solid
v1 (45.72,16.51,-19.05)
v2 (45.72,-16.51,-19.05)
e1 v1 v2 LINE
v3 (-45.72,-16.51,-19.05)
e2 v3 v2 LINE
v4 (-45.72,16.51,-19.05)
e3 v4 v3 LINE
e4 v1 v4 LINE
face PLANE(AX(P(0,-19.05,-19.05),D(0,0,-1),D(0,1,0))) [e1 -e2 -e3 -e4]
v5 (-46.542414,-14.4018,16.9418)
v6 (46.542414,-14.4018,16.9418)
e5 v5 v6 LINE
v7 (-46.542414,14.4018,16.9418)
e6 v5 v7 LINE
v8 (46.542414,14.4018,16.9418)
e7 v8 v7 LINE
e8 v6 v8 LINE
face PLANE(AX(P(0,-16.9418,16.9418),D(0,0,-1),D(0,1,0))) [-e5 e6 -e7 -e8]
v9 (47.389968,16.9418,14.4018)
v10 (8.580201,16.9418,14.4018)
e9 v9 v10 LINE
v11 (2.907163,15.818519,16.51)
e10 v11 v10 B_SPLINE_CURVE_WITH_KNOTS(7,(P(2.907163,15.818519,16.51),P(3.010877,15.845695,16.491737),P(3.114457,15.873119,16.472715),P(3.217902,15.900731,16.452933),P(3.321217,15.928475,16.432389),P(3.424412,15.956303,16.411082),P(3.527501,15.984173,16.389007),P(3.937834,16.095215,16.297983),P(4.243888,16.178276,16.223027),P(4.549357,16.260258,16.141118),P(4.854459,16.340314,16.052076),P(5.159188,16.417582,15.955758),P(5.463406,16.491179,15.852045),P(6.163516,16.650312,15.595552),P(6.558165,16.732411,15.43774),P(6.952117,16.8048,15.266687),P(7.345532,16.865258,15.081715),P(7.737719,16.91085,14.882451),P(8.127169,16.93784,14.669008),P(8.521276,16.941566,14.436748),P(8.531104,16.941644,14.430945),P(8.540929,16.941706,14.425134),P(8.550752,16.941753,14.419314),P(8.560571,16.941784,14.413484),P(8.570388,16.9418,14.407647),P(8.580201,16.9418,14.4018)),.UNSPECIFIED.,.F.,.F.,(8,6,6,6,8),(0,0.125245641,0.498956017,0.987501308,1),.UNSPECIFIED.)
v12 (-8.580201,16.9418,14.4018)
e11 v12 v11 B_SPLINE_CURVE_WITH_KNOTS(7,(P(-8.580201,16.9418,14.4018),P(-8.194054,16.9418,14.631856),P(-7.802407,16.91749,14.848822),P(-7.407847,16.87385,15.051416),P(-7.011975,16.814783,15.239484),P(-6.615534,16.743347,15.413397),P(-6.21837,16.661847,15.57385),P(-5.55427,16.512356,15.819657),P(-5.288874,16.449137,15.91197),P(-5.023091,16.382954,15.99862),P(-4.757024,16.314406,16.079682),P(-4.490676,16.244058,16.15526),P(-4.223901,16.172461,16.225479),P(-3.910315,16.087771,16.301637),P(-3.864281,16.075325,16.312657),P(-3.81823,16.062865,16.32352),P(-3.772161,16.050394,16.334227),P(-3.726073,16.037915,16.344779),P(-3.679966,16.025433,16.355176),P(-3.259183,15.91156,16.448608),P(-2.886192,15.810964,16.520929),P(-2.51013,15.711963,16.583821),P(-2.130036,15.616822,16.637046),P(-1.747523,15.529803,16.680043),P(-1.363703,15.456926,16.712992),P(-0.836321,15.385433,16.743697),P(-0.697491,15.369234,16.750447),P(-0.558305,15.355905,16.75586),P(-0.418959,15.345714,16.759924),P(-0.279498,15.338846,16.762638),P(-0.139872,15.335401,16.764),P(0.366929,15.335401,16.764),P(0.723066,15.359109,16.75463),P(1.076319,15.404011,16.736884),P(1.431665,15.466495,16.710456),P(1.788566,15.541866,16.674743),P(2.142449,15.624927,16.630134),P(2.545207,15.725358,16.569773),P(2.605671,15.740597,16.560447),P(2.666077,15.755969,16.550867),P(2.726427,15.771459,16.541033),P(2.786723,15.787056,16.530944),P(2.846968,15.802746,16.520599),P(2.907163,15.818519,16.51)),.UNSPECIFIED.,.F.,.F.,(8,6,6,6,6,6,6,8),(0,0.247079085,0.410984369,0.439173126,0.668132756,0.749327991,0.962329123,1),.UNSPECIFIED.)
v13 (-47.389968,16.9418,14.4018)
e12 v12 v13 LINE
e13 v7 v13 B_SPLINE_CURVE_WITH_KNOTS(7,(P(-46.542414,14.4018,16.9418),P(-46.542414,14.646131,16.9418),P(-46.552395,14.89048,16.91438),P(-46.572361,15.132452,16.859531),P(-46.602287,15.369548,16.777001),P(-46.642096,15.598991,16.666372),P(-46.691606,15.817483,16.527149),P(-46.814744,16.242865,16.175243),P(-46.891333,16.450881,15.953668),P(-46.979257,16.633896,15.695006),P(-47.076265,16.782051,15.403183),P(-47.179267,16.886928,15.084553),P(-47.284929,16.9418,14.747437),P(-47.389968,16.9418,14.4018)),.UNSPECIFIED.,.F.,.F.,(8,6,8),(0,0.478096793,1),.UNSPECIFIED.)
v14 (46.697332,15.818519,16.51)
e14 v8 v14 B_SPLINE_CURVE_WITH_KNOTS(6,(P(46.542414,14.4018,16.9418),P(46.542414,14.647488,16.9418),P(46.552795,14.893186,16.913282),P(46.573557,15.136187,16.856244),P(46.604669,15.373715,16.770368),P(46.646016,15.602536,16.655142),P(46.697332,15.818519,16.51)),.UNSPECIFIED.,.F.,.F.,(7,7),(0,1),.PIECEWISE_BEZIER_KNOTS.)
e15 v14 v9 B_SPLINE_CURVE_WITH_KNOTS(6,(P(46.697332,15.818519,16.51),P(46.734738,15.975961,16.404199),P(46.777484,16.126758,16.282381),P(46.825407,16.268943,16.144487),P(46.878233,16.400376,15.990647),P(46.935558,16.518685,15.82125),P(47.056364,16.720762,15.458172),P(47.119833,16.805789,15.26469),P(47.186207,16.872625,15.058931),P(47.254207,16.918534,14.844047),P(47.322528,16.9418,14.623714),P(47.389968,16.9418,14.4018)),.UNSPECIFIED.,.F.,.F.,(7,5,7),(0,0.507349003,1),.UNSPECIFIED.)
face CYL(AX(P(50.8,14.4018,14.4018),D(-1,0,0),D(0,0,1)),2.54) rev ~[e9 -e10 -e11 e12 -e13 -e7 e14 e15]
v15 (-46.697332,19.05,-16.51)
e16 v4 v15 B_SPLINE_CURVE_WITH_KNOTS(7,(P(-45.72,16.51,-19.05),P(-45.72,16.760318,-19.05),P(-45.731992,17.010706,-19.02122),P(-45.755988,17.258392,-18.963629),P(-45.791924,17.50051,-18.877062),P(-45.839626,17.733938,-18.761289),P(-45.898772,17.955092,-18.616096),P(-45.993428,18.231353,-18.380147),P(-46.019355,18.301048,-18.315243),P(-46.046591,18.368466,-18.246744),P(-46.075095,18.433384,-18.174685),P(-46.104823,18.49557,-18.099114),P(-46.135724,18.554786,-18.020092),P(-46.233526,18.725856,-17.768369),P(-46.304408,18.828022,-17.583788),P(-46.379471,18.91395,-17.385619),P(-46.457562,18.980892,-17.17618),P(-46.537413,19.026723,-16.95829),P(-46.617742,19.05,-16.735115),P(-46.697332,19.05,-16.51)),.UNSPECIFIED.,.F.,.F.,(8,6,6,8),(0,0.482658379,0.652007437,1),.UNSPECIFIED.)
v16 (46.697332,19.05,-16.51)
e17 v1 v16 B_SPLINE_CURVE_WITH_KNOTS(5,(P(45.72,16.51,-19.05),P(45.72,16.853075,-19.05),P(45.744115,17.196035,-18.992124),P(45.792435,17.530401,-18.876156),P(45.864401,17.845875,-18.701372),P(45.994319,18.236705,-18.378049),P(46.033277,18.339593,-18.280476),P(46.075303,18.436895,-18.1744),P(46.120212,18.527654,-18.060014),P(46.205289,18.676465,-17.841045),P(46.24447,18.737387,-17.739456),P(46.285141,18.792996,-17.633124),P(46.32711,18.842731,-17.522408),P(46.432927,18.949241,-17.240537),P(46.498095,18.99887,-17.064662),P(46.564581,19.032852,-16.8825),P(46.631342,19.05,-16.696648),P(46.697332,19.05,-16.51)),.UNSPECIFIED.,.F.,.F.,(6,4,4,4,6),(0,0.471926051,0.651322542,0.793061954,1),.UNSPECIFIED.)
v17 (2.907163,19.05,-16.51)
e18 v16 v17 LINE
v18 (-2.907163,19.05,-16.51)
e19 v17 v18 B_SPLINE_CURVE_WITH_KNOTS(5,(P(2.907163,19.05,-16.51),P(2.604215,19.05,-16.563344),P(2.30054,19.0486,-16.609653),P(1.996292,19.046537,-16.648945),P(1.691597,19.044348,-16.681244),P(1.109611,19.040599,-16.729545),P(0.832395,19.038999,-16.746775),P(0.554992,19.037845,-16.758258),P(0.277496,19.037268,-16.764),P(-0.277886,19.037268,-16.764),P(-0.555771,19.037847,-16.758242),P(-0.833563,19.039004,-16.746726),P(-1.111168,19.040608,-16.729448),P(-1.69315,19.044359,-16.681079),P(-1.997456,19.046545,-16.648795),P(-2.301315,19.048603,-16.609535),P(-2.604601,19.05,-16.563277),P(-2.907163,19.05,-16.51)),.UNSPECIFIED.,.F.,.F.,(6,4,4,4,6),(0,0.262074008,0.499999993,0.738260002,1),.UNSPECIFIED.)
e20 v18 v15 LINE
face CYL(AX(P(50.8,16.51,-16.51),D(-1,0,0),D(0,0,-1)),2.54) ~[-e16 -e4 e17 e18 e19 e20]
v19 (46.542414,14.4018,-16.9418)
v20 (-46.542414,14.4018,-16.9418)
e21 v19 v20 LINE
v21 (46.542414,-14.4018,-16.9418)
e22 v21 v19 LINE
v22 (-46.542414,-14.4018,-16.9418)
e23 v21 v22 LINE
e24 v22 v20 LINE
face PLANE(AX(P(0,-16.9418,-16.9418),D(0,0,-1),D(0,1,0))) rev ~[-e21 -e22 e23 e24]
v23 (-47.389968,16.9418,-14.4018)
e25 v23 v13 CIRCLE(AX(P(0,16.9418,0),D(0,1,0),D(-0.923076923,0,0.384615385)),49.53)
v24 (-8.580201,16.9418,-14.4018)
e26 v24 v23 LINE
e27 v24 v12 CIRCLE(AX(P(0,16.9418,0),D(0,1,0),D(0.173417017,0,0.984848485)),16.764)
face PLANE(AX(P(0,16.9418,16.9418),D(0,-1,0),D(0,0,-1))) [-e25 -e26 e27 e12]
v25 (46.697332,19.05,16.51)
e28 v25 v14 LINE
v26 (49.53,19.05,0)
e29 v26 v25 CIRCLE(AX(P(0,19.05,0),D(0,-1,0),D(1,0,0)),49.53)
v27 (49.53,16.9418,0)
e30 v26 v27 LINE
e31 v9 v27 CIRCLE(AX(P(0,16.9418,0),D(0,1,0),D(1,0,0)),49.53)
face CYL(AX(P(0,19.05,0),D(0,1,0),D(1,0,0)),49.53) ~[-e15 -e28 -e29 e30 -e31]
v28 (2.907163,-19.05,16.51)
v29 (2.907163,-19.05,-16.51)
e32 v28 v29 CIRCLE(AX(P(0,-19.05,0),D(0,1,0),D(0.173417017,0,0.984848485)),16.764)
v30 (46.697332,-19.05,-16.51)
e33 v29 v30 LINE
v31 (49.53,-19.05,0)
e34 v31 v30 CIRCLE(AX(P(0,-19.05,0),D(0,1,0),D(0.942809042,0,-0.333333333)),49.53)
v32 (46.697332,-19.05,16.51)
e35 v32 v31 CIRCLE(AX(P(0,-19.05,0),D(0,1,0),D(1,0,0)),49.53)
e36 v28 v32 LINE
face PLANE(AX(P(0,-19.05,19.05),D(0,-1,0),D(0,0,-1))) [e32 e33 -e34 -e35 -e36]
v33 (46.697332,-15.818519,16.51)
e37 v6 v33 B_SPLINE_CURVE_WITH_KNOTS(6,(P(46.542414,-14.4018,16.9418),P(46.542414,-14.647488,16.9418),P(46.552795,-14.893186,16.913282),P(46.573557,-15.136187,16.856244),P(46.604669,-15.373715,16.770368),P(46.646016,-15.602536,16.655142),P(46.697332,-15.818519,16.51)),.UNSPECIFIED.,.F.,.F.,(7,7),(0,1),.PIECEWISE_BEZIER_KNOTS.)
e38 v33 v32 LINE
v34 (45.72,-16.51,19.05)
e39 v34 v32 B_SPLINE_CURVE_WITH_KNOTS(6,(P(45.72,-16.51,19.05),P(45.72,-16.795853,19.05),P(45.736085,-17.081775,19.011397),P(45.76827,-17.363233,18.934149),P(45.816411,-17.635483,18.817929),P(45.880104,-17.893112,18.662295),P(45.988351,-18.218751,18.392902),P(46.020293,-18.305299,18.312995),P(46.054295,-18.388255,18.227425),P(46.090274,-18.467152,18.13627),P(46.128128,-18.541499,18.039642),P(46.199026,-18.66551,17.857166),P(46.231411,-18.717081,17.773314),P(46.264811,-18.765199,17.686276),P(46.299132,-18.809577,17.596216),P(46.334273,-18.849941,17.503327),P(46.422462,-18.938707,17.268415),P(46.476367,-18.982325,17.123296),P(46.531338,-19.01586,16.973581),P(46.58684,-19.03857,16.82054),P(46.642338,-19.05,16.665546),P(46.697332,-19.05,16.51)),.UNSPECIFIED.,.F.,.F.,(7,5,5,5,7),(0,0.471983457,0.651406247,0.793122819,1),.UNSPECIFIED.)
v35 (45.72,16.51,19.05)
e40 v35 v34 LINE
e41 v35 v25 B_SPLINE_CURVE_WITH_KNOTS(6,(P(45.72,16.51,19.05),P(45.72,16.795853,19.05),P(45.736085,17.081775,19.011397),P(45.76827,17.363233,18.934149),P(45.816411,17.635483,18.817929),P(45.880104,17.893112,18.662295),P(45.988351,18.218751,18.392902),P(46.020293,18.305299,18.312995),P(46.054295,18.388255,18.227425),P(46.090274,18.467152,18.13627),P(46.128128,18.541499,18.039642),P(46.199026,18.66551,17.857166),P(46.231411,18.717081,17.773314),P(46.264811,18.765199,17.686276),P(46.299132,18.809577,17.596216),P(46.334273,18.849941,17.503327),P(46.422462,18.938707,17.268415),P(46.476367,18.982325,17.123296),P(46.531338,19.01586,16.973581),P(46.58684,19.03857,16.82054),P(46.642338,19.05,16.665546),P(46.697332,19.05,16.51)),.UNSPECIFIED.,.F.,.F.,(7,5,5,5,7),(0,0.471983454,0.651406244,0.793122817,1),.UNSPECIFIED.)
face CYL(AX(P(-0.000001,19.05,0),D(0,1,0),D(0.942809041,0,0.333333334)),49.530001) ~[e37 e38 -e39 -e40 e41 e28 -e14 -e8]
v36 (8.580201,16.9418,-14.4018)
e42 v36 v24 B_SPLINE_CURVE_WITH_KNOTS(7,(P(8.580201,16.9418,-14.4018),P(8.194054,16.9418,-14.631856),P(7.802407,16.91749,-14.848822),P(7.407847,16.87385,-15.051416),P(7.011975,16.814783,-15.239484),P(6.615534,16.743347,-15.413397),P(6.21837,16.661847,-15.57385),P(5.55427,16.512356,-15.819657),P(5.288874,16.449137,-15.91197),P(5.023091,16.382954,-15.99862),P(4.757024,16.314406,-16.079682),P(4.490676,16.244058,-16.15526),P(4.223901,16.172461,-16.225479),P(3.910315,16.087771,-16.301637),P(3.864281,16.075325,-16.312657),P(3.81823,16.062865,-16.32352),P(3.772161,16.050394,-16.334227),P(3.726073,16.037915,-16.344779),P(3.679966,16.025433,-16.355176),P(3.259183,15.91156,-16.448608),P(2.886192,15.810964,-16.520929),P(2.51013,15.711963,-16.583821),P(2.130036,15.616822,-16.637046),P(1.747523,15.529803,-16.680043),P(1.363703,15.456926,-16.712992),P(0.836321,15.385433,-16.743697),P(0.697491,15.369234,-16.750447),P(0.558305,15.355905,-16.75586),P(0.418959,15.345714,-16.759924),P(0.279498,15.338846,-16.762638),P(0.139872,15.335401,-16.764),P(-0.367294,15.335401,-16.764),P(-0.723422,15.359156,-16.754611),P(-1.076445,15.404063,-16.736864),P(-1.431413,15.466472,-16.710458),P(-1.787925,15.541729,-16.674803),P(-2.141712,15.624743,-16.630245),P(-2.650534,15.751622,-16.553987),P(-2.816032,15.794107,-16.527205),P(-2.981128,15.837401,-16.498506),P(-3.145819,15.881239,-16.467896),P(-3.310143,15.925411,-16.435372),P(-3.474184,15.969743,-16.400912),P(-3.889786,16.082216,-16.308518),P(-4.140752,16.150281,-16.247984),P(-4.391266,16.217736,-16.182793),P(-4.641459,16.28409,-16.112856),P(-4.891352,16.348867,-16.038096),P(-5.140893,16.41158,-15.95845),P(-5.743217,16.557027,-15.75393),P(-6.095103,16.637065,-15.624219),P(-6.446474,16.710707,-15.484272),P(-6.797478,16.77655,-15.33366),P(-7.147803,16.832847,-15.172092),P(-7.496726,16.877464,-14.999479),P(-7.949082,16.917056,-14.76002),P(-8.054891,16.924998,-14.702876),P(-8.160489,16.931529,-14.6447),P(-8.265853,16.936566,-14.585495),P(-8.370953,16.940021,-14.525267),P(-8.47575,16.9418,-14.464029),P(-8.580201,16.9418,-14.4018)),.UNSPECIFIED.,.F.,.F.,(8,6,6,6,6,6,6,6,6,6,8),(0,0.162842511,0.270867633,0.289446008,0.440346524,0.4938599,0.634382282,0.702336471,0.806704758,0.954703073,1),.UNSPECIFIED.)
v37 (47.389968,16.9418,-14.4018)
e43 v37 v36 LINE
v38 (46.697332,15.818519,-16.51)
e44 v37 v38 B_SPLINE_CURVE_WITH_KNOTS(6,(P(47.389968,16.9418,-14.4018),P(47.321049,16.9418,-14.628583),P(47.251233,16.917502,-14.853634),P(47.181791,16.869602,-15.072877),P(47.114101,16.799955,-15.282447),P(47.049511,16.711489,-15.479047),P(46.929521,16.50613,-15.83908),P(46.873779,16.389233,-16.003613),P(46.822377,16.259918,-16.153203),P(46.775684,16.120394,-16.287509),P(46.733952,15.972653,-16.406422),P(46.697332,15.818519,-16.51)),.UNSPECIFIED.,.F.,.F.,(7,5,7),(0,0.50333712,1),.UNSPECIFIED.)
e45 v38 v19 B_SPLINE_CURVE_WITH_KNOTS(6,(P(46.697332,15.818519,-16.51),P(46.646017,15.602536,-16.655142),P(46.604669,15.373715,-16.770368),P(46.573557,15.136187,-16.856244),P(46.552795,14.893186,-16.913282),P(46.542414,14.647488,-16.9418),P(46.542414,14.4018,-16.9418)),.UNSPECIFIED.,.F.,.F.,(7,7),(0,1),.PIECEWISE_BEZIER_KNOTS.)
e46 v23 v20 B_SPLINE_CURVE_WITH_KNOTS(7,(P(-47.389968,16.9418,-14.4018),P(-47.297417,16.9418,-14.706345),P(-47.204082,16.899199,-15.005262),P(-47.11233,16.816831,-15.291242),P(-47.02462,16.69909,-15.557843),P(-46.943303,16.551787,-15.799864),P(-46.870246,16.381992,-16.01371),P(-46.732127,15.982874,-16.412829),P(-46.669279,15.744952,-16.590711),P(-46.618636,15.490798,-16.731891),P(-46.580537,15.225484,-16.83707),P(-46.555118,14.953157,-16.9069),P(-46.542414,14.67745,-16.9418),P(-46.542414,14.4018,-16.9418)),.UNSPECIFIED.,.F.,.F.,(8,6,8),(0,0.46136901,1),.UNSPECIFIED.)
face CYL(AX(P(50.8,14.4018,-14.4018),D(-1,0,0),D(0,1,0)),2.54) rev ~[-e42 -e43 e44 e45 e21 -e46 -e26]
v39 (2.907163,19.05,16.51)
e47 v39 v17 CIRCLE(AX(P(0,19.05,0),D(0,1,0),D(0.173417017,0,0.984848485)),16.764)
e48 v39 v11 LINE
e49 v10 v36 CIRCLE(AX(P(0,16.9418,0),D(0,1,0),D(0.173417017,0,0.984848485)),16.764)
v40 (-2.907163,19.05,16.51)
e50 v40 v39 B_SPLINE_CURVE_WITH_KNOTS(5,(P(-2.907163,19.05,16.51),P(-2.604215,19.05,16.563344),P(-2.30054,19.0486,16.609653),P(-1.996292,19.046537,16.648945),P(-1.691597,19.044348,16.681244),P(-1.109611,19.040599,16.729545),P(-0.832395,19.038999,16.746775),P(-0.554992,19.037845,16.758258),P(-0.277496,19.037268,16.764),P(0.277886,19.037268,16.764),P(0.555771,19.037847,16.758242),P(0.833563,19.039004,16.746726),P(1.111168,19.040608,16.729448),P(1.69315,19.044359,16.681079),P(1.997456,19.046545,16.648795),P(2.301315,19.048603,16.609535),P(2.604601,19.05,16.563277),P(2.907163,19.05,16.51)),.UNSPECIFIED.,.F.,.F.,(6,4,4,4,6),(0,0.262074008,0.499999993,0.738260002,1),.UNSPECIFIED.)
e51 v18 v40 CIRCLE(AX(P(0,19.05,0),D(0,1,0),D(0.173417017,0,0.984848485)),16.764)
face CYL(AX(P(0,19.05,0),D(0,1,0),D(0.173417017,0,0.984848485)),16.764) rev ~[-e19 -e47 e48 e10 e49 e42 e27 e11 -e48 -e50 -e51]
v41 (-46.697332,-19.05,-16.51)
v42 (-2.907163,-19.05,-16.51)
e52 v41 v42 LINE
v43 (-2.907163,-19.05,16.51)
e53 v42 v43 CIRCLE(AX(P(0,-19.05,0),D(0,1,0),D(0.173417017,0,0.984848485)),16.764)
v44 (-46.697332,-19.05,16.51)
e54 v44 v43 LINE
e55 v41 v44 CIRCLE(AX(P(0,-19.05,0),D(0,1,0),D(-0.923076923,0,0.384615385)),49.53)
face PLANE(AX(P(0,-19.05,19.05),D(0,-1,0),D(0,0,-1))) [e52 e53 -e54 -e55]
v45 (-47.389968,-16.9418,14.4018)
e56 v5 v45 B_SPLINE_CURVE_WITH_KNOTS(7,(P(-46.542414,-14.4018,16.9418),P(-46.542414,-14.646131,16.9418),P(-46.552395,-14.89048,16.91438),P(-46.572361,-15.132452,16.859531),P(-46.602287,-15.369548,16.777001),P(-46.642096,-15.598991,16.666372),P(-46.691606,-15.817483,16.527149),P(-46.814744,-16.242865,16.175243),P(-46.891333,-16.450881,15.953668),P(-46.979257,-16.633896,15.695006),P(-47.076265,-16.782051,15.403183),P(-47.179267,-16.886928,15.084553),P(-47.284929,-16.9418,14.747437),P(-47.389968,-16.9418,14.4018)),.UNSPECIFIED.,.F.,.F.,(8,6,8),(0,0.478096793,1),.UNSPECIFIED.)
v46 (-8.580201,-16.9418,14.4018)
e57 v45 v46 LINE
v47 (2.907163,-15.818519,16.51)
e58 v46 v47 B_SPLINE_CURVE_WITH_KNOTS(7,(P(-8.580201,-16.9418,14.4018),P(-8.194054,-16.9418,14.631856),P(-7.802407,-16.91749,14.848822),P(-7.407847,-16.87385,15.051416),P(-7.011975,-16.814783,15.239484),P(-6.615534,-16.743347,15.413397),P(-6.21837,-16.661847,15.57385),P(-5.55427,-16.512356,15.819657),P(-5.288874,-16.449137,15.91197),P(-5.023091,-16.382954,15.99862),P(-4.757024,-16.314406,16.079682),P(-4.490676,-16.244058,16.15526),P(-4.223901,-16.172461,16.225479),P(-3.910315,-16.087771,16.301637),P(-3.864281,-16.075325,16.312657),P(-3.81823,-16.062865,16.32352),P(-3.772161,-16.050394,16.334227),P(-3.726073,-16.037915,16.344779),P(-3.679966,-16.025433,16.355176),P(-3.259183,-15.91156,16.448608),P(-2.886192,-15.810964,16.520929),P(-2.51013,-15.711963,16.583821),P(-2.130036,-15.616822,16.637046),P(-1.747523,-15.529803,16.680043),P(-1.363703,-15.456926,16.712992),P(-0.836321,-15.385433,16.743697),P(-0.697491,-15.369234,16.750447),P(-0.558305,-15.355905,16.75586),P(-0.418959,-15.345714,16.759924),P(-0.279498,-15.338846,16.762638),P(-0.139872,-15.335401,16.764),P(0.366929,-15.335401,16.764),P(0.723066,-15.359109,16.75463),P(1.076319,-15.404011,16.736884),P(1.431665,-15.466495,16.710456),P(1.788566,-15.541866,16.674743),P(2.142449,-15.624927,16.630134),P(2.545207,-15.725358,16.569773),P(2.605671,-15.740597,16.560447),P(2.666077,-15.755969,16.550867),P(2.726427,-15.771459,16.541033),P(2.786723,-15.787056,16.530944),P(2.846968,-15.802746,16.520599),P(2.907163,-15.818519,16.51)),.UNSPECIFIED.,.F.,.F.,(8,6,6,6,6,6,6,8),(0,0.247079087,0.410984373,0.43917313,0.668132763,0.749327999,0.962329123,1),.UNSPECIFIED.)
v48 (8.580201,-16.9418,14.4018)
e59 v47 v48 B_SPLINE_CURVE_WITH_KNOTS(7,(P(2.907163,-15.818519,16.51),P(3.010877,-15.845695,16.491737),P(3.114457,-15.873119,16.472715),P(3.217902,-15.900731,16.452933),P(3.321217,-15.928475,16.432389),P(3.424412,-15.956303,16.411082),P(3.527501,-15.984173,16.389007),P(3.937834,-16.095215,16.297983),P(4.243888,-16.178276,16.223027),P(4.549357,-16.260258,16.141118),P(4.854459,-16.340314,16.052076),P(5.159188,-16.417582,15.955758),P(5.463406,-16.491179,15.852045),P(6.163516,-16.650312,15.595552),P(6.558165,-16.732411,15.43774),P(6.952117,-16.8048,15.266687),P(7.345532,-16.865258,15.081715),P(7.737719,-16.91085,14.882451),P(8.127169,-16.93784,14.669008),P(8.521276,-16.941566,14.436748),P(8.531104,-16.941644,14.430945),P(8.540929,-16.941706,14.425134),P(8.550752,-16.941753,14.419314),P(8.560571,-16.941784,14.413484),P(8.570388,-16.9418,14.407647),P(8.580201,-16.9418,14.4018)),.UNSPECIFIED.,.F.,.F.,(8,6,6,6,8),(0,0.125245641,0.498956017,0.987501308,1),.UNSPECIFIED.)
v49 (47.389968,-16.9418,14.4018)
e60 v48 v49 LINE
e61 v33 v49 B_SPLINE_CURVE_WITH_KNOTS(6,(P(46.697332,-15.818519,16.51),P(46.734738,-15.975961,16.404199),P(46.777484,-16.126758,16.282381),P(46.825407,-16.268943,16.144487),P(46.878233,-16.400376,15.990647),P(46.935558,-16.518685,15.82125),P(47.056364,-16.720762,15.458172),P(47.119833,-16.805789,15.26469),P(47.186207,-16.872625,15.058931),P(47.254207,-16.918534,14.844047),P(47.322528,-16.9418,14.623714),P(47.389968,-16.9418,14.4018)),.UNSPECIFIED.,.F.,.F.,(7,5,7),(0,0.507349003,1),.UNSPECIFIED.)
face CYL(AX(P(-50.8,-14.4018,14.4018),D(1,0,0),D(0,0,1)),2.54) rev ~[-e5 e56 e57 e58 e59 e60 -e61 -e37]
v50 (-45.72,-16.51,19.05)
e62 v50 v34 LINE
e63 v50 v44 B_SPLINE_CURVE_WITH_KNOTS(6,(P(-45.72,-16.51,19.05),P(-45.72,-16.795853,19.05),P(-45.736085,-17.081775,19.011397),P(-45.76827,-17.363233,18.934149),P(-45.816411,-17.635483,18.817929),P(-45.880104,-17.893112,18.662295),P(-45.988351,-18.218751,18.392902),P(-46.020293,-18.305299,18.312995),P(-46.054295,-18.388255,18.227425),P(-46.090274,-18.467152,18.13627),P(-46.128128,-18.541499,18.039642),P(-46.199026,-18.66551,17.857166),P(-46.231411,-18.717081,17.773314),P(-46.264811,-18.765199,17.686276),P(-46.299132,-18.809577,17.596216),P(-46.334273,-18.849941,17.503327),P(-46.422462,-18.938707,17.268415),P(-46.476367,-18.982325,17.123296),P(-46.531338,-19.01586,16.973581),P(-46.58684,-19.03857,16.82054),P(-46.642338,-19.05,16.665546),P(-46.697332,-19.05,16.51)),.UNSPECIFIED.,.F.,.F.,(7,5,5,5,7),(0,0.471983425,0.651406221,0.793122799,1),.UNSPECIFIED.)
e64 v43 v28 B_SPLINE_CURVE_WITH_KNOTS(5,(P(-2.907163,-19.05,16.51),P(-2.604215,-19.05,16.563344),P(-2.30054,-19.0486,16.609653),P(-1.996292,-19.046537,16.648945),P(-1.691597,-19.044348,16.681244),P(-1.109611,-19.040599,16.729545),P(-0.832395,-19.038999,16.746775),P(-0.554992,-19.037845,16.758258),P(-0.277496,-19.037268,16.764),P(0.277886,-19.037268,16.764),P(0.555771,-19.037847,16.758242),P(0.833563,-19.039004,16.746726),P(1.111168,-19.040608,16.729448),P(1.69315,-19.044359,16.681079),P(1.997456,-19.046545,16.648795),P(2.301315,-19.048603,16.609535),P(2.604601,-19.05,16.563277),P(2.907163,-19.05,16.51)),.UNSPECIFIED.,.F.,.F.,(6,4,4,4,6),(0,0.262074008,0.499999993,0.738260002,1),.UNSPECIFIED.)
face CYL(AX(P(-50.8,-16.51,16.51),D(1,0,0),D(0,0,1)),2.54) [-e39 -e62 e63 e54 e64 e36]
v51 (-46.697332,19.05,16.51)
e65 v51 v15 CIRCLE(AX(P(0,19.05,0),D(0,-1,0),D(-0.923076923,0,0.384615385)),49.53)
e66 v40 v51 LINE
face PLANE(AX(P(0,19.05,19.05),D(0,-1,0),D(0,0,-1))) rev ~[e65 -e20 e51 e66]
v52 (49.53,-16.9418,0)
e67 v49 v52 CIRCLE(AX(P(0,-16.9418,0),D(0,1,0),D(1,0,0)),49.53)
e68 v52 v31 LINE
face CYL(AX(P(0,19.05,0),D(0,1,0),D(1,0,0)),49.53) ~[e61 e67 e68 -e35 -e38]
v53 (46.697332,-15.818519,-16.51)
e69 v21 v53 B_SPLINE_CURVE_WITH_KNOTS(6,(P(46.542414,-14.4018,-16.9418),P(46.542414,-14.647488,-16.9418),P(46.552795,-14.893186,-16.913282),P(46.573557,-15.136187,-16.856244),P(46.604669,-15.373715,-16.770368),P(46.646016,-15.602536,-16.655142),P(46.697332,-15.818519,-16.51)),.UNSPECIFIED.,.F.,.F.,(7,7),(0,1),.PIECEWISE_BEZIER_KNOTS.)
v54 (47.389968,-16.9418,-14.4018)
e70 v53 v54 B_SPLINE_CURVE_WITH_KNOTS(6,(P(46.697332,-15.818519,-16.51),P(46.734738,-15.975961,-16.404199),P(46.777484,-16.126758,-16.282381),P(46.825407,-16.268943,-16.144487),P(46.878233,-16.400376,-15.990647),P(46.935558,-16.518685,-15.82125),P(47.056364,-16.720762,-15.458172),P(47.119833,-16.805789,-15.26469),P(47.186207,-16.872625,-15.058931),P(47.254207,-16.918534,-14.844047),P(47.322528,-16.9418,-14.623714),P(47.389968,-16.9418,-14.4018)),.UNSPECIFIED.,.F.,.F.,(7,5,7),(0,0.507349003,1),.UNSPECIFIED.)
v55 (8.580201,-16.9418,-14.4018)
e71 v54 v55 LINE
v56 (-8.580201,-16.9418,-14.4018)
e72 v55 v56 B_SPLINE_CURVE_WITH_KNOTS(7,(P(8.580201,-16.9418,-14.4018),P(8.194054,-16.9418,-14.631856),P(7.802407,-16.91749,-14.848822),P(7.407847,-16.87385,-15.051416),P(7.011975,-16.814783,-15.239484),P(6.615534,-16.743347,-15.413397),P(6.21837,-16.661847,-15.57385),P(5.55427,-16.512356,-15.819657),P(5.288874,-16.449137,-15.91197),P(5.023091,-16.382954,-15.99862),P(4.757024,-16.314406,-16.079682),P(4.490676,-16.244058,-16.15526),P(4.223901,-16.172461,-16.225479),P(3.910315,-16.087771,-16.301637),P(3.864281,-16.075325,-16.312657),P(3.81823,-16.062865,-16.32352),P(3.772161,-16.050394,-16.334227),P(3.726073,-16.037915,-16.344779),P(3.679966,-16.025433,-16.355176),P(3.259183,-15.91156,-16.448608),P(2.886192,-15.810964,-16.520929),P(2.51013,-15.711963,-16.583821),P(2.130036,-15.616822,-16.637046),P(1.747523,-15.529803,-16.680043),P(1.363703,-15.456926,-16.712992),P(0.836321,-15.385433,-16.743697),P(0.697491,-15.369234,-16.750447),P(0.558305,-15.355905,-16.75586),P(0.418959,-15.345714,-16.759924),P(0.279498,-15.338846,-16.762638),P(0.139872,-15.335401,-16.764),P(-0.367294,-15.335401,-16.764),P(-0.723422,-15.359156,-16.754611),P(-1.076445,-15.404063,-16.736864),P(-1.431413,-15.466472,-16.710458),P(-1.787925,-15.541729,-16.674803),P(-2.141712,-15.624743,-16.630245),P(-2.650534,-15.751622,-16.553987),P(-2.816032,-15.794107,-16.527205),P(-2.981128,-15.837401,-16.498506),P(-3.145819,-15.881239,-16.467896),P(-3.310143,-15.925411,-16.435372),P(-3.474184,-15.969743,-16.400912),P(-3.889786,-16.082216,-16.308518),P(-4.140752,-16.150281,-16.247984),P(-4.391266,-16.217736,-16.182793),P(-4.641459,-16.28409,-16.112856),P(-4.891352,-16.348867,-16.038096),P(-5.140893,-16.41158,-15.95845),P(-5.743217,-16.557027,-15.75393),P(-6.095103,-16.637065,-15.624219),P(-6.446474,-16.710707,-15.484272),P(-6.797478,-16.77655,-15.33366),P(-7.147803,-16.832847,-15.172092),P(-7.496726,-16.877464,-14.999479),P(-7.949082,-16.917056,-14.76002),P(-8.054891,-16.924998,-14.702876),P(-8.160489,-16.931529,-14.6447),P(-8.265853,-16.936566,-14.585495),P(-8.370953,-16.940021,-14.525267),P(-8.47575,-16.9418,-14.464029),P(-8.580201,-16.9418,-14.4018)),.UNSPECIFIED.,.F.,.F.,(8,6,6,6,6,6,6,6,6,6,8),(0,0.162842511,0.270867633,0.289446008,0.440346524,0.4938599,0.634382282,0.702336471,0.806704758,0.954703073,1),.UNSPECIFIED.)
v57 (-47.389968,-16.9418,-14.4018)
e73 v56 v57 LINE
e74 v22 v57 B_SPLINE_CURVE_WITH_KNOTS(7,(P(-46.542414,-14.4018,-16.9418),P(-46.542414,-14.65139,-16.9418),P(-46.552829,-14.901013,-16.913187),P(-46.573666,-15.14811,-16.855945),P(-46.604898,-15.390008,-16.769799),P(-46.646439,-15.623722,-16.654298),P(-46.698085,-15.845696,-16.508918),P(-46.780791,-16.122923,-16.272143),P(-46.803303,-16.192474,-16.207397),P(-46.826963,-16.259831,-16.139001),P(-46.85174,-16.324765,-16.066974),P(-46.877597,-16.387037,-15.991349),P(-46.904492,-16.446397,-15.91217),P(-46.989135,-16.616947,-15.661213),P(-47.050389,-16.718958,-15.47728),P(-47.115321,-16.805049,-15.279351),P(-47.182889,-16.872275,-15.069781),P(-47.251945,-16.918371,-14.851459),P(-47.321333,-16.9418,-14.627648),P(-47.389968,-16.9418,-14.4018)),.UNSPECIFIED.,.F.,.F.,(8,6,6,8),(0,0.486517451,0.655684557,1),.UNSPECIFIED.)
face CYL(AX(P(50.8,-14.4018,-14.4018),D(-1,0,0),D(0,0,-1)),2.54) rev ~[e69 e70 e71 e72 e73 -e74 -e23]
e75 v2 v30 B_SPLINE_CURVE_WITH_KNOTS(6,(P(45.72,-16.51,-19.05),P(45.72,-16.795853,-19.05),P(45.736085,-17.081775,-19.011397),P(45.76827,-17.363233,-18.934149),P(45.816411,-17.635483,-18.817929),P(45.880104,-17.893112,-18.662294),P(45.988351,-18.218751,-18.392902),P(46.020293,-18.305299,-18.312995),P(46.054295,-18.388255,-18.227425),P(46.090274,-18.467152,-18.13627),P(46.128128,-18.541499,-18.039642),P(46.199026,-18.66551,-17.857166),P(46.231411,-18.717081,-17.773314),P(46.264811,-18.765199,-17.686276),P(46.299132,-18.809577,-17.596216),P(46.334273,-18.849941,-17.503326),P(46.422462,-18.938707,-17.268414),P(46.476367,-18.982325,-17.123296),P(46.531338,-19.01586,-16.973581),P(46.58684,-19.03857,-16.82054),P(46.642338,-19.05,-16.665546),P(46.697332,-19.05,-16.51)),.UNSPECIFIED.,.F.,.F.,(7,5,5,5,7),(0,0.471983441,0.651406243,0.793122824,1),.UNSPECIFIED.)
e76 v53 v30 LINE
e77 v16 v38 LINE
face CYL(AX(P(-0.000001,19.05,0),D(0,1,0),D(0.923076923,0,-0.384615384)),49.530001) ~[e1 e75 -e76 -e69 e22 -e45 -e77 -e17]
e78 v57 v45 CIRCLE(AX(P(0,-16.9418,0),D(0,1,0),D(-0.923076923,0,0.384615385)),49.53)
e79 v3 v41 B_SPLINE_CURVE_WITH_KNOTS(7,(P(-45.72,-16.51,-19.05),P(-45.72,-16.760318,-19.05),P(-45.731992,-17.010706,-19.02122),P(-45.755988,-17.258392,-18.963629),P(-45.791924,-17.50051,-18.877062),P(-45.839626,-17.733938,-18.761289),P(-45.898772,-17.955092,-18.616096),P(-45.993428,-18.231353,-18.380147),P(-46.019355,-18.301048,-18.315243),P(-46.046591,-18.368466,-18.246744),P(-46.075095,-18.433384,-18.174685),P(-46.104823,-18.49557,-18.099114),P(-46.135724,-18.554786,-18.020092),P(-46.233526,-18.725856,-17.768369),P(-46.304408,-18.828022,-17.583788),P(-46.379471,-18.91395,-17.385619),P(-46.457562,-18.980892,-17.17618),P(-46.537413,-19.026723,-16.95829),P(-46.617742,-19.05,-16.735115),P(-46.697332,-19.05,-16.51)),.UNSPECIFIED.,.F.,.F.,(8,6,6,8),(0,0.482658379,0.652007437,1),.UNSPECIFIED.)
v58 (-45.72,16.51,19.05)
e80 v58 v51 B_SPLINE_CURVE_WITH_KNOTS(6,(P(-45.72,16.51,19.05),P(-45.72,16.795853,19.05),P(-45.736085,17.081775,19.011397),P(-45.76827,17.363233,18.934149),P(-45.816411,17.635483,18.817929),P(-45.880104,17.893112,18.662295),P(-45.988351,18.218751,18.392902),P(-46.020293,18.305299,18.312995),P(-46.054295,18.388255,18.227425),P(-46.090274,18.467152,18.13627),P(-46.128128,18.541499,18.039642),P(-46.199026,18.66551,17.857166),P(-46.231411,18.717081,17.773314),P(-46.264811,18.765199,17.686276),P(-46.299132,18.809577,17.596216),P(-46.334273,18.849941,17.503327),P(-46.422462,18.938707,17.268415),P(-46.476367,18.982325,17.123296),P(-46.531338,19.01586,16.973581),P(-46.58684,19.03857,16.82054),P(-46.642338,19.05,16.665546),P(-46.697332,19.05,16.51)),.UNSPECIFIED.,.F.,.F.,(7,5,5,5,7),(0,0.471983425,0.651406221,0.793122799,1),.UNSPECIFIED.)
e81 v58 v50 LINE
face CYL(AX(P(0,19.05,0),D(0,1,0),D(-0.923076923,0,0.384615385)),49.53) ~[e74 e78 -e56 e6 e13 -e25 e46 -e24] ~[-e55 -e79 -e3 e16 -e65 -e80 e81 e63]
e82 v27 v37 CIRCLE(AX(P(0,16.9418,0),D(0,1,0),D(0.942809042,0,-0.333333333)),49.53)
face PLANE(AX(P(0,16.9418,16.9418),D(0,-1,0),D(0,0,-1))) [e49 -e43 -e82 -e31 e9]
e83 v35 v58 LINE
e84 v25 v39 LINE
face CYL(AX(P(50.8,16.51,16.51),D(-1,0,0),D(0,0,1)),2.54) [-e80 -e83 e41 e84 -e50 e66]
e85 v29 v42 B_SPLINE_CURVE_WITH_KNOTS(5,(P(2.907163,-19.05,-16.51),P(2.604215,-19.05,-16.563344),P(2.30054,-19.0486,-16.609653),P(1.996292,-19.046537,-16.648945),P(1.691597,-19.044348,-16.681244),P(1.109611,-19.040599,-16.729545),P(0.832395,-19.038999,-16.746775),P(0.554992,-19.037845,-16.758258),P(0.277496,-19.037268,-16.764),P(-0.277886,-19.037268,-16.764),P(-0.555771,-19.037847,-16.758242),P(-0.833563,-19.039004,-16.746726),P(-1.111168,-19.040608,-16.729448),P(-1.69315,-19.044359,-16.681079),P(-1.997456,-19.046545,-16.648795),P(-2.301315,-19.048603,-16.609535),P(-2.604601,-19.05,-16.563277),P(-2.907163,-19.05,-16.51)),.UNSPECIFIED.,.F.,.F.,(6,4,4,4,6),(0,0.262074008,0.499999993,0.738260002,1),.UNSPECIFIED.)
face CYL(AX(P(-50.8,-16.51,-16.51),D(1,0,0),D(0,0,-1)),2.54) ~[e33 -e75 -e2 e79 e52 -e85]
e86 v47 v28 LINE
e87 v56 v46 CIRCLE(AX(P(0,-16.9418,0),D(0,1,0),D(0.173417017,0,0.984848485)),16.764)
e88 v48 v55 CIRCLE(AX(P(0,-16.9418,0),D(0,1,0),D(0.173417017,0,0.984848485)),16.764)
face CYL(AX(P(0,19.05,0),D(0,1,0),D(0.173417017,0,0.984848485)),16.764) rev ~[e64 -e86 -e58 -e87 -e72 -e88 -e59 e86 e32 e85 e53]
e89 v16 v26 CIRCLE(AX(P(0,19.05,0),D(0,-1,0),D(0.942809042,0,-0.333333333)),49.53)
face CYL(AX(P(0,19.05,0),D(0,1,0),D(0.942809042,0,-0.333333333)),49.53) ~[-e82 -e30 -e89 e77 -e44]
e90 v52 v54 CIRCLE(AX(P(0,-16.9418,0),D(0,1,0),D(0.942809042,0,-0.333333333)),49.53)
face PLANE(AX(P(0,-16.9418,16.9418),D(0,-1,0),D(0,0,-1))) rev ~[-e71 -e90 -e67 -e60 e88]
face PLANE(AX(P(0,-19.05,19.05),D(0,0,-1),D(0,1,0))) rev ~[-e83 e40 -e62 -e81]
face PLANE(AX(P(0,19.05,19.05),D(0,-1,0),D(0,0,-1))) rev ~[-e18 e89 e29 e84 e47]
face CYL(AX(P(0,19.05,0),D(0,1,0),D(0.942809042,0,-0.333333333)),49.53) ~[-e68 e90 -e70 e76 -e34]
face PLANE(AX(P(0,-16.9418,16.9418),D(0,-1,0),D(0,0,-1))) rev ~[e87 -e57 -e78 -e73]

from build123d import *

# Parameters (mm, degrees)
SKETCH1_W           = 38.1
SKETCH1_H           = 38.1
SKETCH1_W_2         = 33.8836
SKETCH1_H_2         = 33.8836
BOSS_EXTRUDE1_DEPTH = 50.8
FILLET1_R           = 2.54
SKETCH3_R           = 16.764
CUT_EXTRUDE2_DEPTH  = 67.295946332
CUT_EXTRUDE3_DEPTH  = 67.295946494


with BuildPart() as part:
    # Sketch1 → Boss-Extrude1 (new, symmetric)
    with BuildSketch(Plane(origin=(0, 0, 0), x_dir=(0, 0, -1), z_dir=(1, 0, 0))):
        Rectangle(SKETCH1_W, SKETCH1_H)
        Rectangle(SKETCH1_W_2, SKETCH1_H_2, mode=Mode.SUBTRACT)
    extrude(amount=BOSS_EXTRUDE1_DEPTH, both=True)

    # Fillet1
    fillet1_edges = [part.edges().sort_by_distance(p)[0] for p in [
        (0, -16.9418, -16.9418),
        (0, 16.9418, -16.9418),
        (0, 16.9418, 16.9418),
        (0, -16.9418, 16.9418),
        (0, 19.05, 19.05),
        (0, 19.05, -19.05),
        (0, -19.05, -19.05),
        (0, -19.05, 19.05),
    ]]
    fillet(fillet1_edges, radius=FILLET1_R)

    # Sketch3 → Cut-Extrude2 (cut, through all)
    with BuildSketch(Plane(origin=(0, 19.05, 0), x_dir=(1, 0, 0), z_dir=(0, 1, 0))):
        with Locations(Location((0, 0, 0), (0, 0, 279.986551447))):
            Circle(SKETCH3_R)
    extrude(amount=-CUT_EXTRUDE2_DEPTH, mode=Mode.SUBTRACT)

    # Sketch4 → Cut-Extrude3 (cut, through all)
    with BuildSketch(Plane(origin=(0, 19.05, 0), x_dir=(1, 0, 0), z_dir=(0, 1, 0))):
        with BuildLine():
            Line((-45.72, 19.05), (-50.8, 19.05))
            Line((-50.8, 19.05), (-50.8, -19.05))
            Line((-50.8, -19.05), (-45.72, -19.05))
            ThreePointArc((-45.72, -19.05), (-49.53, 0), (-45.72, 19.05))
        make_face()
        with BuildLine():
            Line((50.8, 16.51), (46.69733183, 16.51))
            ThreePointArc((46.69733183, 16.51), (48.81669666, 8.375621006), (49.53, 0))
            ThreePointArc((49.53, 0), (48.81669666, -8.375621006), (46.69733183, -16.51))
            Line((46.69733183, -16.51), (50.8, -16.51))
            Line((50.8, -16.51), (50.8, 16.51))
        make_face()
        with BuildLine():
            Line((50.8, 19.05), (45.72, 19.05))
            ThreePointArc((45.72, 19.05), (46.226114974, 17.786713985), (46.69733183, 16.51))
            Line((46.69733183, 16.51), (50.8, 16.51))
            Line((50.8, 16.51), (50.8, 19.05))
        make_face()
        with BuildLine():
            ThreePointArc((46.69733183, -16.51), (46.226114974, -17.786713985), (45.72, -19.05))
            Line((45.72, -19.05), (50.8, -19.05))
            Line((50.8, -19.05), (50.8, -16.51))
            Line((50.8, -16.51), (46.69733183, -16.51))
        make_face()
    extrude(amount=-CUT_EXTRUDE3_DEPTH, mode=Mode.SUBTRACT)


solid = part.part
